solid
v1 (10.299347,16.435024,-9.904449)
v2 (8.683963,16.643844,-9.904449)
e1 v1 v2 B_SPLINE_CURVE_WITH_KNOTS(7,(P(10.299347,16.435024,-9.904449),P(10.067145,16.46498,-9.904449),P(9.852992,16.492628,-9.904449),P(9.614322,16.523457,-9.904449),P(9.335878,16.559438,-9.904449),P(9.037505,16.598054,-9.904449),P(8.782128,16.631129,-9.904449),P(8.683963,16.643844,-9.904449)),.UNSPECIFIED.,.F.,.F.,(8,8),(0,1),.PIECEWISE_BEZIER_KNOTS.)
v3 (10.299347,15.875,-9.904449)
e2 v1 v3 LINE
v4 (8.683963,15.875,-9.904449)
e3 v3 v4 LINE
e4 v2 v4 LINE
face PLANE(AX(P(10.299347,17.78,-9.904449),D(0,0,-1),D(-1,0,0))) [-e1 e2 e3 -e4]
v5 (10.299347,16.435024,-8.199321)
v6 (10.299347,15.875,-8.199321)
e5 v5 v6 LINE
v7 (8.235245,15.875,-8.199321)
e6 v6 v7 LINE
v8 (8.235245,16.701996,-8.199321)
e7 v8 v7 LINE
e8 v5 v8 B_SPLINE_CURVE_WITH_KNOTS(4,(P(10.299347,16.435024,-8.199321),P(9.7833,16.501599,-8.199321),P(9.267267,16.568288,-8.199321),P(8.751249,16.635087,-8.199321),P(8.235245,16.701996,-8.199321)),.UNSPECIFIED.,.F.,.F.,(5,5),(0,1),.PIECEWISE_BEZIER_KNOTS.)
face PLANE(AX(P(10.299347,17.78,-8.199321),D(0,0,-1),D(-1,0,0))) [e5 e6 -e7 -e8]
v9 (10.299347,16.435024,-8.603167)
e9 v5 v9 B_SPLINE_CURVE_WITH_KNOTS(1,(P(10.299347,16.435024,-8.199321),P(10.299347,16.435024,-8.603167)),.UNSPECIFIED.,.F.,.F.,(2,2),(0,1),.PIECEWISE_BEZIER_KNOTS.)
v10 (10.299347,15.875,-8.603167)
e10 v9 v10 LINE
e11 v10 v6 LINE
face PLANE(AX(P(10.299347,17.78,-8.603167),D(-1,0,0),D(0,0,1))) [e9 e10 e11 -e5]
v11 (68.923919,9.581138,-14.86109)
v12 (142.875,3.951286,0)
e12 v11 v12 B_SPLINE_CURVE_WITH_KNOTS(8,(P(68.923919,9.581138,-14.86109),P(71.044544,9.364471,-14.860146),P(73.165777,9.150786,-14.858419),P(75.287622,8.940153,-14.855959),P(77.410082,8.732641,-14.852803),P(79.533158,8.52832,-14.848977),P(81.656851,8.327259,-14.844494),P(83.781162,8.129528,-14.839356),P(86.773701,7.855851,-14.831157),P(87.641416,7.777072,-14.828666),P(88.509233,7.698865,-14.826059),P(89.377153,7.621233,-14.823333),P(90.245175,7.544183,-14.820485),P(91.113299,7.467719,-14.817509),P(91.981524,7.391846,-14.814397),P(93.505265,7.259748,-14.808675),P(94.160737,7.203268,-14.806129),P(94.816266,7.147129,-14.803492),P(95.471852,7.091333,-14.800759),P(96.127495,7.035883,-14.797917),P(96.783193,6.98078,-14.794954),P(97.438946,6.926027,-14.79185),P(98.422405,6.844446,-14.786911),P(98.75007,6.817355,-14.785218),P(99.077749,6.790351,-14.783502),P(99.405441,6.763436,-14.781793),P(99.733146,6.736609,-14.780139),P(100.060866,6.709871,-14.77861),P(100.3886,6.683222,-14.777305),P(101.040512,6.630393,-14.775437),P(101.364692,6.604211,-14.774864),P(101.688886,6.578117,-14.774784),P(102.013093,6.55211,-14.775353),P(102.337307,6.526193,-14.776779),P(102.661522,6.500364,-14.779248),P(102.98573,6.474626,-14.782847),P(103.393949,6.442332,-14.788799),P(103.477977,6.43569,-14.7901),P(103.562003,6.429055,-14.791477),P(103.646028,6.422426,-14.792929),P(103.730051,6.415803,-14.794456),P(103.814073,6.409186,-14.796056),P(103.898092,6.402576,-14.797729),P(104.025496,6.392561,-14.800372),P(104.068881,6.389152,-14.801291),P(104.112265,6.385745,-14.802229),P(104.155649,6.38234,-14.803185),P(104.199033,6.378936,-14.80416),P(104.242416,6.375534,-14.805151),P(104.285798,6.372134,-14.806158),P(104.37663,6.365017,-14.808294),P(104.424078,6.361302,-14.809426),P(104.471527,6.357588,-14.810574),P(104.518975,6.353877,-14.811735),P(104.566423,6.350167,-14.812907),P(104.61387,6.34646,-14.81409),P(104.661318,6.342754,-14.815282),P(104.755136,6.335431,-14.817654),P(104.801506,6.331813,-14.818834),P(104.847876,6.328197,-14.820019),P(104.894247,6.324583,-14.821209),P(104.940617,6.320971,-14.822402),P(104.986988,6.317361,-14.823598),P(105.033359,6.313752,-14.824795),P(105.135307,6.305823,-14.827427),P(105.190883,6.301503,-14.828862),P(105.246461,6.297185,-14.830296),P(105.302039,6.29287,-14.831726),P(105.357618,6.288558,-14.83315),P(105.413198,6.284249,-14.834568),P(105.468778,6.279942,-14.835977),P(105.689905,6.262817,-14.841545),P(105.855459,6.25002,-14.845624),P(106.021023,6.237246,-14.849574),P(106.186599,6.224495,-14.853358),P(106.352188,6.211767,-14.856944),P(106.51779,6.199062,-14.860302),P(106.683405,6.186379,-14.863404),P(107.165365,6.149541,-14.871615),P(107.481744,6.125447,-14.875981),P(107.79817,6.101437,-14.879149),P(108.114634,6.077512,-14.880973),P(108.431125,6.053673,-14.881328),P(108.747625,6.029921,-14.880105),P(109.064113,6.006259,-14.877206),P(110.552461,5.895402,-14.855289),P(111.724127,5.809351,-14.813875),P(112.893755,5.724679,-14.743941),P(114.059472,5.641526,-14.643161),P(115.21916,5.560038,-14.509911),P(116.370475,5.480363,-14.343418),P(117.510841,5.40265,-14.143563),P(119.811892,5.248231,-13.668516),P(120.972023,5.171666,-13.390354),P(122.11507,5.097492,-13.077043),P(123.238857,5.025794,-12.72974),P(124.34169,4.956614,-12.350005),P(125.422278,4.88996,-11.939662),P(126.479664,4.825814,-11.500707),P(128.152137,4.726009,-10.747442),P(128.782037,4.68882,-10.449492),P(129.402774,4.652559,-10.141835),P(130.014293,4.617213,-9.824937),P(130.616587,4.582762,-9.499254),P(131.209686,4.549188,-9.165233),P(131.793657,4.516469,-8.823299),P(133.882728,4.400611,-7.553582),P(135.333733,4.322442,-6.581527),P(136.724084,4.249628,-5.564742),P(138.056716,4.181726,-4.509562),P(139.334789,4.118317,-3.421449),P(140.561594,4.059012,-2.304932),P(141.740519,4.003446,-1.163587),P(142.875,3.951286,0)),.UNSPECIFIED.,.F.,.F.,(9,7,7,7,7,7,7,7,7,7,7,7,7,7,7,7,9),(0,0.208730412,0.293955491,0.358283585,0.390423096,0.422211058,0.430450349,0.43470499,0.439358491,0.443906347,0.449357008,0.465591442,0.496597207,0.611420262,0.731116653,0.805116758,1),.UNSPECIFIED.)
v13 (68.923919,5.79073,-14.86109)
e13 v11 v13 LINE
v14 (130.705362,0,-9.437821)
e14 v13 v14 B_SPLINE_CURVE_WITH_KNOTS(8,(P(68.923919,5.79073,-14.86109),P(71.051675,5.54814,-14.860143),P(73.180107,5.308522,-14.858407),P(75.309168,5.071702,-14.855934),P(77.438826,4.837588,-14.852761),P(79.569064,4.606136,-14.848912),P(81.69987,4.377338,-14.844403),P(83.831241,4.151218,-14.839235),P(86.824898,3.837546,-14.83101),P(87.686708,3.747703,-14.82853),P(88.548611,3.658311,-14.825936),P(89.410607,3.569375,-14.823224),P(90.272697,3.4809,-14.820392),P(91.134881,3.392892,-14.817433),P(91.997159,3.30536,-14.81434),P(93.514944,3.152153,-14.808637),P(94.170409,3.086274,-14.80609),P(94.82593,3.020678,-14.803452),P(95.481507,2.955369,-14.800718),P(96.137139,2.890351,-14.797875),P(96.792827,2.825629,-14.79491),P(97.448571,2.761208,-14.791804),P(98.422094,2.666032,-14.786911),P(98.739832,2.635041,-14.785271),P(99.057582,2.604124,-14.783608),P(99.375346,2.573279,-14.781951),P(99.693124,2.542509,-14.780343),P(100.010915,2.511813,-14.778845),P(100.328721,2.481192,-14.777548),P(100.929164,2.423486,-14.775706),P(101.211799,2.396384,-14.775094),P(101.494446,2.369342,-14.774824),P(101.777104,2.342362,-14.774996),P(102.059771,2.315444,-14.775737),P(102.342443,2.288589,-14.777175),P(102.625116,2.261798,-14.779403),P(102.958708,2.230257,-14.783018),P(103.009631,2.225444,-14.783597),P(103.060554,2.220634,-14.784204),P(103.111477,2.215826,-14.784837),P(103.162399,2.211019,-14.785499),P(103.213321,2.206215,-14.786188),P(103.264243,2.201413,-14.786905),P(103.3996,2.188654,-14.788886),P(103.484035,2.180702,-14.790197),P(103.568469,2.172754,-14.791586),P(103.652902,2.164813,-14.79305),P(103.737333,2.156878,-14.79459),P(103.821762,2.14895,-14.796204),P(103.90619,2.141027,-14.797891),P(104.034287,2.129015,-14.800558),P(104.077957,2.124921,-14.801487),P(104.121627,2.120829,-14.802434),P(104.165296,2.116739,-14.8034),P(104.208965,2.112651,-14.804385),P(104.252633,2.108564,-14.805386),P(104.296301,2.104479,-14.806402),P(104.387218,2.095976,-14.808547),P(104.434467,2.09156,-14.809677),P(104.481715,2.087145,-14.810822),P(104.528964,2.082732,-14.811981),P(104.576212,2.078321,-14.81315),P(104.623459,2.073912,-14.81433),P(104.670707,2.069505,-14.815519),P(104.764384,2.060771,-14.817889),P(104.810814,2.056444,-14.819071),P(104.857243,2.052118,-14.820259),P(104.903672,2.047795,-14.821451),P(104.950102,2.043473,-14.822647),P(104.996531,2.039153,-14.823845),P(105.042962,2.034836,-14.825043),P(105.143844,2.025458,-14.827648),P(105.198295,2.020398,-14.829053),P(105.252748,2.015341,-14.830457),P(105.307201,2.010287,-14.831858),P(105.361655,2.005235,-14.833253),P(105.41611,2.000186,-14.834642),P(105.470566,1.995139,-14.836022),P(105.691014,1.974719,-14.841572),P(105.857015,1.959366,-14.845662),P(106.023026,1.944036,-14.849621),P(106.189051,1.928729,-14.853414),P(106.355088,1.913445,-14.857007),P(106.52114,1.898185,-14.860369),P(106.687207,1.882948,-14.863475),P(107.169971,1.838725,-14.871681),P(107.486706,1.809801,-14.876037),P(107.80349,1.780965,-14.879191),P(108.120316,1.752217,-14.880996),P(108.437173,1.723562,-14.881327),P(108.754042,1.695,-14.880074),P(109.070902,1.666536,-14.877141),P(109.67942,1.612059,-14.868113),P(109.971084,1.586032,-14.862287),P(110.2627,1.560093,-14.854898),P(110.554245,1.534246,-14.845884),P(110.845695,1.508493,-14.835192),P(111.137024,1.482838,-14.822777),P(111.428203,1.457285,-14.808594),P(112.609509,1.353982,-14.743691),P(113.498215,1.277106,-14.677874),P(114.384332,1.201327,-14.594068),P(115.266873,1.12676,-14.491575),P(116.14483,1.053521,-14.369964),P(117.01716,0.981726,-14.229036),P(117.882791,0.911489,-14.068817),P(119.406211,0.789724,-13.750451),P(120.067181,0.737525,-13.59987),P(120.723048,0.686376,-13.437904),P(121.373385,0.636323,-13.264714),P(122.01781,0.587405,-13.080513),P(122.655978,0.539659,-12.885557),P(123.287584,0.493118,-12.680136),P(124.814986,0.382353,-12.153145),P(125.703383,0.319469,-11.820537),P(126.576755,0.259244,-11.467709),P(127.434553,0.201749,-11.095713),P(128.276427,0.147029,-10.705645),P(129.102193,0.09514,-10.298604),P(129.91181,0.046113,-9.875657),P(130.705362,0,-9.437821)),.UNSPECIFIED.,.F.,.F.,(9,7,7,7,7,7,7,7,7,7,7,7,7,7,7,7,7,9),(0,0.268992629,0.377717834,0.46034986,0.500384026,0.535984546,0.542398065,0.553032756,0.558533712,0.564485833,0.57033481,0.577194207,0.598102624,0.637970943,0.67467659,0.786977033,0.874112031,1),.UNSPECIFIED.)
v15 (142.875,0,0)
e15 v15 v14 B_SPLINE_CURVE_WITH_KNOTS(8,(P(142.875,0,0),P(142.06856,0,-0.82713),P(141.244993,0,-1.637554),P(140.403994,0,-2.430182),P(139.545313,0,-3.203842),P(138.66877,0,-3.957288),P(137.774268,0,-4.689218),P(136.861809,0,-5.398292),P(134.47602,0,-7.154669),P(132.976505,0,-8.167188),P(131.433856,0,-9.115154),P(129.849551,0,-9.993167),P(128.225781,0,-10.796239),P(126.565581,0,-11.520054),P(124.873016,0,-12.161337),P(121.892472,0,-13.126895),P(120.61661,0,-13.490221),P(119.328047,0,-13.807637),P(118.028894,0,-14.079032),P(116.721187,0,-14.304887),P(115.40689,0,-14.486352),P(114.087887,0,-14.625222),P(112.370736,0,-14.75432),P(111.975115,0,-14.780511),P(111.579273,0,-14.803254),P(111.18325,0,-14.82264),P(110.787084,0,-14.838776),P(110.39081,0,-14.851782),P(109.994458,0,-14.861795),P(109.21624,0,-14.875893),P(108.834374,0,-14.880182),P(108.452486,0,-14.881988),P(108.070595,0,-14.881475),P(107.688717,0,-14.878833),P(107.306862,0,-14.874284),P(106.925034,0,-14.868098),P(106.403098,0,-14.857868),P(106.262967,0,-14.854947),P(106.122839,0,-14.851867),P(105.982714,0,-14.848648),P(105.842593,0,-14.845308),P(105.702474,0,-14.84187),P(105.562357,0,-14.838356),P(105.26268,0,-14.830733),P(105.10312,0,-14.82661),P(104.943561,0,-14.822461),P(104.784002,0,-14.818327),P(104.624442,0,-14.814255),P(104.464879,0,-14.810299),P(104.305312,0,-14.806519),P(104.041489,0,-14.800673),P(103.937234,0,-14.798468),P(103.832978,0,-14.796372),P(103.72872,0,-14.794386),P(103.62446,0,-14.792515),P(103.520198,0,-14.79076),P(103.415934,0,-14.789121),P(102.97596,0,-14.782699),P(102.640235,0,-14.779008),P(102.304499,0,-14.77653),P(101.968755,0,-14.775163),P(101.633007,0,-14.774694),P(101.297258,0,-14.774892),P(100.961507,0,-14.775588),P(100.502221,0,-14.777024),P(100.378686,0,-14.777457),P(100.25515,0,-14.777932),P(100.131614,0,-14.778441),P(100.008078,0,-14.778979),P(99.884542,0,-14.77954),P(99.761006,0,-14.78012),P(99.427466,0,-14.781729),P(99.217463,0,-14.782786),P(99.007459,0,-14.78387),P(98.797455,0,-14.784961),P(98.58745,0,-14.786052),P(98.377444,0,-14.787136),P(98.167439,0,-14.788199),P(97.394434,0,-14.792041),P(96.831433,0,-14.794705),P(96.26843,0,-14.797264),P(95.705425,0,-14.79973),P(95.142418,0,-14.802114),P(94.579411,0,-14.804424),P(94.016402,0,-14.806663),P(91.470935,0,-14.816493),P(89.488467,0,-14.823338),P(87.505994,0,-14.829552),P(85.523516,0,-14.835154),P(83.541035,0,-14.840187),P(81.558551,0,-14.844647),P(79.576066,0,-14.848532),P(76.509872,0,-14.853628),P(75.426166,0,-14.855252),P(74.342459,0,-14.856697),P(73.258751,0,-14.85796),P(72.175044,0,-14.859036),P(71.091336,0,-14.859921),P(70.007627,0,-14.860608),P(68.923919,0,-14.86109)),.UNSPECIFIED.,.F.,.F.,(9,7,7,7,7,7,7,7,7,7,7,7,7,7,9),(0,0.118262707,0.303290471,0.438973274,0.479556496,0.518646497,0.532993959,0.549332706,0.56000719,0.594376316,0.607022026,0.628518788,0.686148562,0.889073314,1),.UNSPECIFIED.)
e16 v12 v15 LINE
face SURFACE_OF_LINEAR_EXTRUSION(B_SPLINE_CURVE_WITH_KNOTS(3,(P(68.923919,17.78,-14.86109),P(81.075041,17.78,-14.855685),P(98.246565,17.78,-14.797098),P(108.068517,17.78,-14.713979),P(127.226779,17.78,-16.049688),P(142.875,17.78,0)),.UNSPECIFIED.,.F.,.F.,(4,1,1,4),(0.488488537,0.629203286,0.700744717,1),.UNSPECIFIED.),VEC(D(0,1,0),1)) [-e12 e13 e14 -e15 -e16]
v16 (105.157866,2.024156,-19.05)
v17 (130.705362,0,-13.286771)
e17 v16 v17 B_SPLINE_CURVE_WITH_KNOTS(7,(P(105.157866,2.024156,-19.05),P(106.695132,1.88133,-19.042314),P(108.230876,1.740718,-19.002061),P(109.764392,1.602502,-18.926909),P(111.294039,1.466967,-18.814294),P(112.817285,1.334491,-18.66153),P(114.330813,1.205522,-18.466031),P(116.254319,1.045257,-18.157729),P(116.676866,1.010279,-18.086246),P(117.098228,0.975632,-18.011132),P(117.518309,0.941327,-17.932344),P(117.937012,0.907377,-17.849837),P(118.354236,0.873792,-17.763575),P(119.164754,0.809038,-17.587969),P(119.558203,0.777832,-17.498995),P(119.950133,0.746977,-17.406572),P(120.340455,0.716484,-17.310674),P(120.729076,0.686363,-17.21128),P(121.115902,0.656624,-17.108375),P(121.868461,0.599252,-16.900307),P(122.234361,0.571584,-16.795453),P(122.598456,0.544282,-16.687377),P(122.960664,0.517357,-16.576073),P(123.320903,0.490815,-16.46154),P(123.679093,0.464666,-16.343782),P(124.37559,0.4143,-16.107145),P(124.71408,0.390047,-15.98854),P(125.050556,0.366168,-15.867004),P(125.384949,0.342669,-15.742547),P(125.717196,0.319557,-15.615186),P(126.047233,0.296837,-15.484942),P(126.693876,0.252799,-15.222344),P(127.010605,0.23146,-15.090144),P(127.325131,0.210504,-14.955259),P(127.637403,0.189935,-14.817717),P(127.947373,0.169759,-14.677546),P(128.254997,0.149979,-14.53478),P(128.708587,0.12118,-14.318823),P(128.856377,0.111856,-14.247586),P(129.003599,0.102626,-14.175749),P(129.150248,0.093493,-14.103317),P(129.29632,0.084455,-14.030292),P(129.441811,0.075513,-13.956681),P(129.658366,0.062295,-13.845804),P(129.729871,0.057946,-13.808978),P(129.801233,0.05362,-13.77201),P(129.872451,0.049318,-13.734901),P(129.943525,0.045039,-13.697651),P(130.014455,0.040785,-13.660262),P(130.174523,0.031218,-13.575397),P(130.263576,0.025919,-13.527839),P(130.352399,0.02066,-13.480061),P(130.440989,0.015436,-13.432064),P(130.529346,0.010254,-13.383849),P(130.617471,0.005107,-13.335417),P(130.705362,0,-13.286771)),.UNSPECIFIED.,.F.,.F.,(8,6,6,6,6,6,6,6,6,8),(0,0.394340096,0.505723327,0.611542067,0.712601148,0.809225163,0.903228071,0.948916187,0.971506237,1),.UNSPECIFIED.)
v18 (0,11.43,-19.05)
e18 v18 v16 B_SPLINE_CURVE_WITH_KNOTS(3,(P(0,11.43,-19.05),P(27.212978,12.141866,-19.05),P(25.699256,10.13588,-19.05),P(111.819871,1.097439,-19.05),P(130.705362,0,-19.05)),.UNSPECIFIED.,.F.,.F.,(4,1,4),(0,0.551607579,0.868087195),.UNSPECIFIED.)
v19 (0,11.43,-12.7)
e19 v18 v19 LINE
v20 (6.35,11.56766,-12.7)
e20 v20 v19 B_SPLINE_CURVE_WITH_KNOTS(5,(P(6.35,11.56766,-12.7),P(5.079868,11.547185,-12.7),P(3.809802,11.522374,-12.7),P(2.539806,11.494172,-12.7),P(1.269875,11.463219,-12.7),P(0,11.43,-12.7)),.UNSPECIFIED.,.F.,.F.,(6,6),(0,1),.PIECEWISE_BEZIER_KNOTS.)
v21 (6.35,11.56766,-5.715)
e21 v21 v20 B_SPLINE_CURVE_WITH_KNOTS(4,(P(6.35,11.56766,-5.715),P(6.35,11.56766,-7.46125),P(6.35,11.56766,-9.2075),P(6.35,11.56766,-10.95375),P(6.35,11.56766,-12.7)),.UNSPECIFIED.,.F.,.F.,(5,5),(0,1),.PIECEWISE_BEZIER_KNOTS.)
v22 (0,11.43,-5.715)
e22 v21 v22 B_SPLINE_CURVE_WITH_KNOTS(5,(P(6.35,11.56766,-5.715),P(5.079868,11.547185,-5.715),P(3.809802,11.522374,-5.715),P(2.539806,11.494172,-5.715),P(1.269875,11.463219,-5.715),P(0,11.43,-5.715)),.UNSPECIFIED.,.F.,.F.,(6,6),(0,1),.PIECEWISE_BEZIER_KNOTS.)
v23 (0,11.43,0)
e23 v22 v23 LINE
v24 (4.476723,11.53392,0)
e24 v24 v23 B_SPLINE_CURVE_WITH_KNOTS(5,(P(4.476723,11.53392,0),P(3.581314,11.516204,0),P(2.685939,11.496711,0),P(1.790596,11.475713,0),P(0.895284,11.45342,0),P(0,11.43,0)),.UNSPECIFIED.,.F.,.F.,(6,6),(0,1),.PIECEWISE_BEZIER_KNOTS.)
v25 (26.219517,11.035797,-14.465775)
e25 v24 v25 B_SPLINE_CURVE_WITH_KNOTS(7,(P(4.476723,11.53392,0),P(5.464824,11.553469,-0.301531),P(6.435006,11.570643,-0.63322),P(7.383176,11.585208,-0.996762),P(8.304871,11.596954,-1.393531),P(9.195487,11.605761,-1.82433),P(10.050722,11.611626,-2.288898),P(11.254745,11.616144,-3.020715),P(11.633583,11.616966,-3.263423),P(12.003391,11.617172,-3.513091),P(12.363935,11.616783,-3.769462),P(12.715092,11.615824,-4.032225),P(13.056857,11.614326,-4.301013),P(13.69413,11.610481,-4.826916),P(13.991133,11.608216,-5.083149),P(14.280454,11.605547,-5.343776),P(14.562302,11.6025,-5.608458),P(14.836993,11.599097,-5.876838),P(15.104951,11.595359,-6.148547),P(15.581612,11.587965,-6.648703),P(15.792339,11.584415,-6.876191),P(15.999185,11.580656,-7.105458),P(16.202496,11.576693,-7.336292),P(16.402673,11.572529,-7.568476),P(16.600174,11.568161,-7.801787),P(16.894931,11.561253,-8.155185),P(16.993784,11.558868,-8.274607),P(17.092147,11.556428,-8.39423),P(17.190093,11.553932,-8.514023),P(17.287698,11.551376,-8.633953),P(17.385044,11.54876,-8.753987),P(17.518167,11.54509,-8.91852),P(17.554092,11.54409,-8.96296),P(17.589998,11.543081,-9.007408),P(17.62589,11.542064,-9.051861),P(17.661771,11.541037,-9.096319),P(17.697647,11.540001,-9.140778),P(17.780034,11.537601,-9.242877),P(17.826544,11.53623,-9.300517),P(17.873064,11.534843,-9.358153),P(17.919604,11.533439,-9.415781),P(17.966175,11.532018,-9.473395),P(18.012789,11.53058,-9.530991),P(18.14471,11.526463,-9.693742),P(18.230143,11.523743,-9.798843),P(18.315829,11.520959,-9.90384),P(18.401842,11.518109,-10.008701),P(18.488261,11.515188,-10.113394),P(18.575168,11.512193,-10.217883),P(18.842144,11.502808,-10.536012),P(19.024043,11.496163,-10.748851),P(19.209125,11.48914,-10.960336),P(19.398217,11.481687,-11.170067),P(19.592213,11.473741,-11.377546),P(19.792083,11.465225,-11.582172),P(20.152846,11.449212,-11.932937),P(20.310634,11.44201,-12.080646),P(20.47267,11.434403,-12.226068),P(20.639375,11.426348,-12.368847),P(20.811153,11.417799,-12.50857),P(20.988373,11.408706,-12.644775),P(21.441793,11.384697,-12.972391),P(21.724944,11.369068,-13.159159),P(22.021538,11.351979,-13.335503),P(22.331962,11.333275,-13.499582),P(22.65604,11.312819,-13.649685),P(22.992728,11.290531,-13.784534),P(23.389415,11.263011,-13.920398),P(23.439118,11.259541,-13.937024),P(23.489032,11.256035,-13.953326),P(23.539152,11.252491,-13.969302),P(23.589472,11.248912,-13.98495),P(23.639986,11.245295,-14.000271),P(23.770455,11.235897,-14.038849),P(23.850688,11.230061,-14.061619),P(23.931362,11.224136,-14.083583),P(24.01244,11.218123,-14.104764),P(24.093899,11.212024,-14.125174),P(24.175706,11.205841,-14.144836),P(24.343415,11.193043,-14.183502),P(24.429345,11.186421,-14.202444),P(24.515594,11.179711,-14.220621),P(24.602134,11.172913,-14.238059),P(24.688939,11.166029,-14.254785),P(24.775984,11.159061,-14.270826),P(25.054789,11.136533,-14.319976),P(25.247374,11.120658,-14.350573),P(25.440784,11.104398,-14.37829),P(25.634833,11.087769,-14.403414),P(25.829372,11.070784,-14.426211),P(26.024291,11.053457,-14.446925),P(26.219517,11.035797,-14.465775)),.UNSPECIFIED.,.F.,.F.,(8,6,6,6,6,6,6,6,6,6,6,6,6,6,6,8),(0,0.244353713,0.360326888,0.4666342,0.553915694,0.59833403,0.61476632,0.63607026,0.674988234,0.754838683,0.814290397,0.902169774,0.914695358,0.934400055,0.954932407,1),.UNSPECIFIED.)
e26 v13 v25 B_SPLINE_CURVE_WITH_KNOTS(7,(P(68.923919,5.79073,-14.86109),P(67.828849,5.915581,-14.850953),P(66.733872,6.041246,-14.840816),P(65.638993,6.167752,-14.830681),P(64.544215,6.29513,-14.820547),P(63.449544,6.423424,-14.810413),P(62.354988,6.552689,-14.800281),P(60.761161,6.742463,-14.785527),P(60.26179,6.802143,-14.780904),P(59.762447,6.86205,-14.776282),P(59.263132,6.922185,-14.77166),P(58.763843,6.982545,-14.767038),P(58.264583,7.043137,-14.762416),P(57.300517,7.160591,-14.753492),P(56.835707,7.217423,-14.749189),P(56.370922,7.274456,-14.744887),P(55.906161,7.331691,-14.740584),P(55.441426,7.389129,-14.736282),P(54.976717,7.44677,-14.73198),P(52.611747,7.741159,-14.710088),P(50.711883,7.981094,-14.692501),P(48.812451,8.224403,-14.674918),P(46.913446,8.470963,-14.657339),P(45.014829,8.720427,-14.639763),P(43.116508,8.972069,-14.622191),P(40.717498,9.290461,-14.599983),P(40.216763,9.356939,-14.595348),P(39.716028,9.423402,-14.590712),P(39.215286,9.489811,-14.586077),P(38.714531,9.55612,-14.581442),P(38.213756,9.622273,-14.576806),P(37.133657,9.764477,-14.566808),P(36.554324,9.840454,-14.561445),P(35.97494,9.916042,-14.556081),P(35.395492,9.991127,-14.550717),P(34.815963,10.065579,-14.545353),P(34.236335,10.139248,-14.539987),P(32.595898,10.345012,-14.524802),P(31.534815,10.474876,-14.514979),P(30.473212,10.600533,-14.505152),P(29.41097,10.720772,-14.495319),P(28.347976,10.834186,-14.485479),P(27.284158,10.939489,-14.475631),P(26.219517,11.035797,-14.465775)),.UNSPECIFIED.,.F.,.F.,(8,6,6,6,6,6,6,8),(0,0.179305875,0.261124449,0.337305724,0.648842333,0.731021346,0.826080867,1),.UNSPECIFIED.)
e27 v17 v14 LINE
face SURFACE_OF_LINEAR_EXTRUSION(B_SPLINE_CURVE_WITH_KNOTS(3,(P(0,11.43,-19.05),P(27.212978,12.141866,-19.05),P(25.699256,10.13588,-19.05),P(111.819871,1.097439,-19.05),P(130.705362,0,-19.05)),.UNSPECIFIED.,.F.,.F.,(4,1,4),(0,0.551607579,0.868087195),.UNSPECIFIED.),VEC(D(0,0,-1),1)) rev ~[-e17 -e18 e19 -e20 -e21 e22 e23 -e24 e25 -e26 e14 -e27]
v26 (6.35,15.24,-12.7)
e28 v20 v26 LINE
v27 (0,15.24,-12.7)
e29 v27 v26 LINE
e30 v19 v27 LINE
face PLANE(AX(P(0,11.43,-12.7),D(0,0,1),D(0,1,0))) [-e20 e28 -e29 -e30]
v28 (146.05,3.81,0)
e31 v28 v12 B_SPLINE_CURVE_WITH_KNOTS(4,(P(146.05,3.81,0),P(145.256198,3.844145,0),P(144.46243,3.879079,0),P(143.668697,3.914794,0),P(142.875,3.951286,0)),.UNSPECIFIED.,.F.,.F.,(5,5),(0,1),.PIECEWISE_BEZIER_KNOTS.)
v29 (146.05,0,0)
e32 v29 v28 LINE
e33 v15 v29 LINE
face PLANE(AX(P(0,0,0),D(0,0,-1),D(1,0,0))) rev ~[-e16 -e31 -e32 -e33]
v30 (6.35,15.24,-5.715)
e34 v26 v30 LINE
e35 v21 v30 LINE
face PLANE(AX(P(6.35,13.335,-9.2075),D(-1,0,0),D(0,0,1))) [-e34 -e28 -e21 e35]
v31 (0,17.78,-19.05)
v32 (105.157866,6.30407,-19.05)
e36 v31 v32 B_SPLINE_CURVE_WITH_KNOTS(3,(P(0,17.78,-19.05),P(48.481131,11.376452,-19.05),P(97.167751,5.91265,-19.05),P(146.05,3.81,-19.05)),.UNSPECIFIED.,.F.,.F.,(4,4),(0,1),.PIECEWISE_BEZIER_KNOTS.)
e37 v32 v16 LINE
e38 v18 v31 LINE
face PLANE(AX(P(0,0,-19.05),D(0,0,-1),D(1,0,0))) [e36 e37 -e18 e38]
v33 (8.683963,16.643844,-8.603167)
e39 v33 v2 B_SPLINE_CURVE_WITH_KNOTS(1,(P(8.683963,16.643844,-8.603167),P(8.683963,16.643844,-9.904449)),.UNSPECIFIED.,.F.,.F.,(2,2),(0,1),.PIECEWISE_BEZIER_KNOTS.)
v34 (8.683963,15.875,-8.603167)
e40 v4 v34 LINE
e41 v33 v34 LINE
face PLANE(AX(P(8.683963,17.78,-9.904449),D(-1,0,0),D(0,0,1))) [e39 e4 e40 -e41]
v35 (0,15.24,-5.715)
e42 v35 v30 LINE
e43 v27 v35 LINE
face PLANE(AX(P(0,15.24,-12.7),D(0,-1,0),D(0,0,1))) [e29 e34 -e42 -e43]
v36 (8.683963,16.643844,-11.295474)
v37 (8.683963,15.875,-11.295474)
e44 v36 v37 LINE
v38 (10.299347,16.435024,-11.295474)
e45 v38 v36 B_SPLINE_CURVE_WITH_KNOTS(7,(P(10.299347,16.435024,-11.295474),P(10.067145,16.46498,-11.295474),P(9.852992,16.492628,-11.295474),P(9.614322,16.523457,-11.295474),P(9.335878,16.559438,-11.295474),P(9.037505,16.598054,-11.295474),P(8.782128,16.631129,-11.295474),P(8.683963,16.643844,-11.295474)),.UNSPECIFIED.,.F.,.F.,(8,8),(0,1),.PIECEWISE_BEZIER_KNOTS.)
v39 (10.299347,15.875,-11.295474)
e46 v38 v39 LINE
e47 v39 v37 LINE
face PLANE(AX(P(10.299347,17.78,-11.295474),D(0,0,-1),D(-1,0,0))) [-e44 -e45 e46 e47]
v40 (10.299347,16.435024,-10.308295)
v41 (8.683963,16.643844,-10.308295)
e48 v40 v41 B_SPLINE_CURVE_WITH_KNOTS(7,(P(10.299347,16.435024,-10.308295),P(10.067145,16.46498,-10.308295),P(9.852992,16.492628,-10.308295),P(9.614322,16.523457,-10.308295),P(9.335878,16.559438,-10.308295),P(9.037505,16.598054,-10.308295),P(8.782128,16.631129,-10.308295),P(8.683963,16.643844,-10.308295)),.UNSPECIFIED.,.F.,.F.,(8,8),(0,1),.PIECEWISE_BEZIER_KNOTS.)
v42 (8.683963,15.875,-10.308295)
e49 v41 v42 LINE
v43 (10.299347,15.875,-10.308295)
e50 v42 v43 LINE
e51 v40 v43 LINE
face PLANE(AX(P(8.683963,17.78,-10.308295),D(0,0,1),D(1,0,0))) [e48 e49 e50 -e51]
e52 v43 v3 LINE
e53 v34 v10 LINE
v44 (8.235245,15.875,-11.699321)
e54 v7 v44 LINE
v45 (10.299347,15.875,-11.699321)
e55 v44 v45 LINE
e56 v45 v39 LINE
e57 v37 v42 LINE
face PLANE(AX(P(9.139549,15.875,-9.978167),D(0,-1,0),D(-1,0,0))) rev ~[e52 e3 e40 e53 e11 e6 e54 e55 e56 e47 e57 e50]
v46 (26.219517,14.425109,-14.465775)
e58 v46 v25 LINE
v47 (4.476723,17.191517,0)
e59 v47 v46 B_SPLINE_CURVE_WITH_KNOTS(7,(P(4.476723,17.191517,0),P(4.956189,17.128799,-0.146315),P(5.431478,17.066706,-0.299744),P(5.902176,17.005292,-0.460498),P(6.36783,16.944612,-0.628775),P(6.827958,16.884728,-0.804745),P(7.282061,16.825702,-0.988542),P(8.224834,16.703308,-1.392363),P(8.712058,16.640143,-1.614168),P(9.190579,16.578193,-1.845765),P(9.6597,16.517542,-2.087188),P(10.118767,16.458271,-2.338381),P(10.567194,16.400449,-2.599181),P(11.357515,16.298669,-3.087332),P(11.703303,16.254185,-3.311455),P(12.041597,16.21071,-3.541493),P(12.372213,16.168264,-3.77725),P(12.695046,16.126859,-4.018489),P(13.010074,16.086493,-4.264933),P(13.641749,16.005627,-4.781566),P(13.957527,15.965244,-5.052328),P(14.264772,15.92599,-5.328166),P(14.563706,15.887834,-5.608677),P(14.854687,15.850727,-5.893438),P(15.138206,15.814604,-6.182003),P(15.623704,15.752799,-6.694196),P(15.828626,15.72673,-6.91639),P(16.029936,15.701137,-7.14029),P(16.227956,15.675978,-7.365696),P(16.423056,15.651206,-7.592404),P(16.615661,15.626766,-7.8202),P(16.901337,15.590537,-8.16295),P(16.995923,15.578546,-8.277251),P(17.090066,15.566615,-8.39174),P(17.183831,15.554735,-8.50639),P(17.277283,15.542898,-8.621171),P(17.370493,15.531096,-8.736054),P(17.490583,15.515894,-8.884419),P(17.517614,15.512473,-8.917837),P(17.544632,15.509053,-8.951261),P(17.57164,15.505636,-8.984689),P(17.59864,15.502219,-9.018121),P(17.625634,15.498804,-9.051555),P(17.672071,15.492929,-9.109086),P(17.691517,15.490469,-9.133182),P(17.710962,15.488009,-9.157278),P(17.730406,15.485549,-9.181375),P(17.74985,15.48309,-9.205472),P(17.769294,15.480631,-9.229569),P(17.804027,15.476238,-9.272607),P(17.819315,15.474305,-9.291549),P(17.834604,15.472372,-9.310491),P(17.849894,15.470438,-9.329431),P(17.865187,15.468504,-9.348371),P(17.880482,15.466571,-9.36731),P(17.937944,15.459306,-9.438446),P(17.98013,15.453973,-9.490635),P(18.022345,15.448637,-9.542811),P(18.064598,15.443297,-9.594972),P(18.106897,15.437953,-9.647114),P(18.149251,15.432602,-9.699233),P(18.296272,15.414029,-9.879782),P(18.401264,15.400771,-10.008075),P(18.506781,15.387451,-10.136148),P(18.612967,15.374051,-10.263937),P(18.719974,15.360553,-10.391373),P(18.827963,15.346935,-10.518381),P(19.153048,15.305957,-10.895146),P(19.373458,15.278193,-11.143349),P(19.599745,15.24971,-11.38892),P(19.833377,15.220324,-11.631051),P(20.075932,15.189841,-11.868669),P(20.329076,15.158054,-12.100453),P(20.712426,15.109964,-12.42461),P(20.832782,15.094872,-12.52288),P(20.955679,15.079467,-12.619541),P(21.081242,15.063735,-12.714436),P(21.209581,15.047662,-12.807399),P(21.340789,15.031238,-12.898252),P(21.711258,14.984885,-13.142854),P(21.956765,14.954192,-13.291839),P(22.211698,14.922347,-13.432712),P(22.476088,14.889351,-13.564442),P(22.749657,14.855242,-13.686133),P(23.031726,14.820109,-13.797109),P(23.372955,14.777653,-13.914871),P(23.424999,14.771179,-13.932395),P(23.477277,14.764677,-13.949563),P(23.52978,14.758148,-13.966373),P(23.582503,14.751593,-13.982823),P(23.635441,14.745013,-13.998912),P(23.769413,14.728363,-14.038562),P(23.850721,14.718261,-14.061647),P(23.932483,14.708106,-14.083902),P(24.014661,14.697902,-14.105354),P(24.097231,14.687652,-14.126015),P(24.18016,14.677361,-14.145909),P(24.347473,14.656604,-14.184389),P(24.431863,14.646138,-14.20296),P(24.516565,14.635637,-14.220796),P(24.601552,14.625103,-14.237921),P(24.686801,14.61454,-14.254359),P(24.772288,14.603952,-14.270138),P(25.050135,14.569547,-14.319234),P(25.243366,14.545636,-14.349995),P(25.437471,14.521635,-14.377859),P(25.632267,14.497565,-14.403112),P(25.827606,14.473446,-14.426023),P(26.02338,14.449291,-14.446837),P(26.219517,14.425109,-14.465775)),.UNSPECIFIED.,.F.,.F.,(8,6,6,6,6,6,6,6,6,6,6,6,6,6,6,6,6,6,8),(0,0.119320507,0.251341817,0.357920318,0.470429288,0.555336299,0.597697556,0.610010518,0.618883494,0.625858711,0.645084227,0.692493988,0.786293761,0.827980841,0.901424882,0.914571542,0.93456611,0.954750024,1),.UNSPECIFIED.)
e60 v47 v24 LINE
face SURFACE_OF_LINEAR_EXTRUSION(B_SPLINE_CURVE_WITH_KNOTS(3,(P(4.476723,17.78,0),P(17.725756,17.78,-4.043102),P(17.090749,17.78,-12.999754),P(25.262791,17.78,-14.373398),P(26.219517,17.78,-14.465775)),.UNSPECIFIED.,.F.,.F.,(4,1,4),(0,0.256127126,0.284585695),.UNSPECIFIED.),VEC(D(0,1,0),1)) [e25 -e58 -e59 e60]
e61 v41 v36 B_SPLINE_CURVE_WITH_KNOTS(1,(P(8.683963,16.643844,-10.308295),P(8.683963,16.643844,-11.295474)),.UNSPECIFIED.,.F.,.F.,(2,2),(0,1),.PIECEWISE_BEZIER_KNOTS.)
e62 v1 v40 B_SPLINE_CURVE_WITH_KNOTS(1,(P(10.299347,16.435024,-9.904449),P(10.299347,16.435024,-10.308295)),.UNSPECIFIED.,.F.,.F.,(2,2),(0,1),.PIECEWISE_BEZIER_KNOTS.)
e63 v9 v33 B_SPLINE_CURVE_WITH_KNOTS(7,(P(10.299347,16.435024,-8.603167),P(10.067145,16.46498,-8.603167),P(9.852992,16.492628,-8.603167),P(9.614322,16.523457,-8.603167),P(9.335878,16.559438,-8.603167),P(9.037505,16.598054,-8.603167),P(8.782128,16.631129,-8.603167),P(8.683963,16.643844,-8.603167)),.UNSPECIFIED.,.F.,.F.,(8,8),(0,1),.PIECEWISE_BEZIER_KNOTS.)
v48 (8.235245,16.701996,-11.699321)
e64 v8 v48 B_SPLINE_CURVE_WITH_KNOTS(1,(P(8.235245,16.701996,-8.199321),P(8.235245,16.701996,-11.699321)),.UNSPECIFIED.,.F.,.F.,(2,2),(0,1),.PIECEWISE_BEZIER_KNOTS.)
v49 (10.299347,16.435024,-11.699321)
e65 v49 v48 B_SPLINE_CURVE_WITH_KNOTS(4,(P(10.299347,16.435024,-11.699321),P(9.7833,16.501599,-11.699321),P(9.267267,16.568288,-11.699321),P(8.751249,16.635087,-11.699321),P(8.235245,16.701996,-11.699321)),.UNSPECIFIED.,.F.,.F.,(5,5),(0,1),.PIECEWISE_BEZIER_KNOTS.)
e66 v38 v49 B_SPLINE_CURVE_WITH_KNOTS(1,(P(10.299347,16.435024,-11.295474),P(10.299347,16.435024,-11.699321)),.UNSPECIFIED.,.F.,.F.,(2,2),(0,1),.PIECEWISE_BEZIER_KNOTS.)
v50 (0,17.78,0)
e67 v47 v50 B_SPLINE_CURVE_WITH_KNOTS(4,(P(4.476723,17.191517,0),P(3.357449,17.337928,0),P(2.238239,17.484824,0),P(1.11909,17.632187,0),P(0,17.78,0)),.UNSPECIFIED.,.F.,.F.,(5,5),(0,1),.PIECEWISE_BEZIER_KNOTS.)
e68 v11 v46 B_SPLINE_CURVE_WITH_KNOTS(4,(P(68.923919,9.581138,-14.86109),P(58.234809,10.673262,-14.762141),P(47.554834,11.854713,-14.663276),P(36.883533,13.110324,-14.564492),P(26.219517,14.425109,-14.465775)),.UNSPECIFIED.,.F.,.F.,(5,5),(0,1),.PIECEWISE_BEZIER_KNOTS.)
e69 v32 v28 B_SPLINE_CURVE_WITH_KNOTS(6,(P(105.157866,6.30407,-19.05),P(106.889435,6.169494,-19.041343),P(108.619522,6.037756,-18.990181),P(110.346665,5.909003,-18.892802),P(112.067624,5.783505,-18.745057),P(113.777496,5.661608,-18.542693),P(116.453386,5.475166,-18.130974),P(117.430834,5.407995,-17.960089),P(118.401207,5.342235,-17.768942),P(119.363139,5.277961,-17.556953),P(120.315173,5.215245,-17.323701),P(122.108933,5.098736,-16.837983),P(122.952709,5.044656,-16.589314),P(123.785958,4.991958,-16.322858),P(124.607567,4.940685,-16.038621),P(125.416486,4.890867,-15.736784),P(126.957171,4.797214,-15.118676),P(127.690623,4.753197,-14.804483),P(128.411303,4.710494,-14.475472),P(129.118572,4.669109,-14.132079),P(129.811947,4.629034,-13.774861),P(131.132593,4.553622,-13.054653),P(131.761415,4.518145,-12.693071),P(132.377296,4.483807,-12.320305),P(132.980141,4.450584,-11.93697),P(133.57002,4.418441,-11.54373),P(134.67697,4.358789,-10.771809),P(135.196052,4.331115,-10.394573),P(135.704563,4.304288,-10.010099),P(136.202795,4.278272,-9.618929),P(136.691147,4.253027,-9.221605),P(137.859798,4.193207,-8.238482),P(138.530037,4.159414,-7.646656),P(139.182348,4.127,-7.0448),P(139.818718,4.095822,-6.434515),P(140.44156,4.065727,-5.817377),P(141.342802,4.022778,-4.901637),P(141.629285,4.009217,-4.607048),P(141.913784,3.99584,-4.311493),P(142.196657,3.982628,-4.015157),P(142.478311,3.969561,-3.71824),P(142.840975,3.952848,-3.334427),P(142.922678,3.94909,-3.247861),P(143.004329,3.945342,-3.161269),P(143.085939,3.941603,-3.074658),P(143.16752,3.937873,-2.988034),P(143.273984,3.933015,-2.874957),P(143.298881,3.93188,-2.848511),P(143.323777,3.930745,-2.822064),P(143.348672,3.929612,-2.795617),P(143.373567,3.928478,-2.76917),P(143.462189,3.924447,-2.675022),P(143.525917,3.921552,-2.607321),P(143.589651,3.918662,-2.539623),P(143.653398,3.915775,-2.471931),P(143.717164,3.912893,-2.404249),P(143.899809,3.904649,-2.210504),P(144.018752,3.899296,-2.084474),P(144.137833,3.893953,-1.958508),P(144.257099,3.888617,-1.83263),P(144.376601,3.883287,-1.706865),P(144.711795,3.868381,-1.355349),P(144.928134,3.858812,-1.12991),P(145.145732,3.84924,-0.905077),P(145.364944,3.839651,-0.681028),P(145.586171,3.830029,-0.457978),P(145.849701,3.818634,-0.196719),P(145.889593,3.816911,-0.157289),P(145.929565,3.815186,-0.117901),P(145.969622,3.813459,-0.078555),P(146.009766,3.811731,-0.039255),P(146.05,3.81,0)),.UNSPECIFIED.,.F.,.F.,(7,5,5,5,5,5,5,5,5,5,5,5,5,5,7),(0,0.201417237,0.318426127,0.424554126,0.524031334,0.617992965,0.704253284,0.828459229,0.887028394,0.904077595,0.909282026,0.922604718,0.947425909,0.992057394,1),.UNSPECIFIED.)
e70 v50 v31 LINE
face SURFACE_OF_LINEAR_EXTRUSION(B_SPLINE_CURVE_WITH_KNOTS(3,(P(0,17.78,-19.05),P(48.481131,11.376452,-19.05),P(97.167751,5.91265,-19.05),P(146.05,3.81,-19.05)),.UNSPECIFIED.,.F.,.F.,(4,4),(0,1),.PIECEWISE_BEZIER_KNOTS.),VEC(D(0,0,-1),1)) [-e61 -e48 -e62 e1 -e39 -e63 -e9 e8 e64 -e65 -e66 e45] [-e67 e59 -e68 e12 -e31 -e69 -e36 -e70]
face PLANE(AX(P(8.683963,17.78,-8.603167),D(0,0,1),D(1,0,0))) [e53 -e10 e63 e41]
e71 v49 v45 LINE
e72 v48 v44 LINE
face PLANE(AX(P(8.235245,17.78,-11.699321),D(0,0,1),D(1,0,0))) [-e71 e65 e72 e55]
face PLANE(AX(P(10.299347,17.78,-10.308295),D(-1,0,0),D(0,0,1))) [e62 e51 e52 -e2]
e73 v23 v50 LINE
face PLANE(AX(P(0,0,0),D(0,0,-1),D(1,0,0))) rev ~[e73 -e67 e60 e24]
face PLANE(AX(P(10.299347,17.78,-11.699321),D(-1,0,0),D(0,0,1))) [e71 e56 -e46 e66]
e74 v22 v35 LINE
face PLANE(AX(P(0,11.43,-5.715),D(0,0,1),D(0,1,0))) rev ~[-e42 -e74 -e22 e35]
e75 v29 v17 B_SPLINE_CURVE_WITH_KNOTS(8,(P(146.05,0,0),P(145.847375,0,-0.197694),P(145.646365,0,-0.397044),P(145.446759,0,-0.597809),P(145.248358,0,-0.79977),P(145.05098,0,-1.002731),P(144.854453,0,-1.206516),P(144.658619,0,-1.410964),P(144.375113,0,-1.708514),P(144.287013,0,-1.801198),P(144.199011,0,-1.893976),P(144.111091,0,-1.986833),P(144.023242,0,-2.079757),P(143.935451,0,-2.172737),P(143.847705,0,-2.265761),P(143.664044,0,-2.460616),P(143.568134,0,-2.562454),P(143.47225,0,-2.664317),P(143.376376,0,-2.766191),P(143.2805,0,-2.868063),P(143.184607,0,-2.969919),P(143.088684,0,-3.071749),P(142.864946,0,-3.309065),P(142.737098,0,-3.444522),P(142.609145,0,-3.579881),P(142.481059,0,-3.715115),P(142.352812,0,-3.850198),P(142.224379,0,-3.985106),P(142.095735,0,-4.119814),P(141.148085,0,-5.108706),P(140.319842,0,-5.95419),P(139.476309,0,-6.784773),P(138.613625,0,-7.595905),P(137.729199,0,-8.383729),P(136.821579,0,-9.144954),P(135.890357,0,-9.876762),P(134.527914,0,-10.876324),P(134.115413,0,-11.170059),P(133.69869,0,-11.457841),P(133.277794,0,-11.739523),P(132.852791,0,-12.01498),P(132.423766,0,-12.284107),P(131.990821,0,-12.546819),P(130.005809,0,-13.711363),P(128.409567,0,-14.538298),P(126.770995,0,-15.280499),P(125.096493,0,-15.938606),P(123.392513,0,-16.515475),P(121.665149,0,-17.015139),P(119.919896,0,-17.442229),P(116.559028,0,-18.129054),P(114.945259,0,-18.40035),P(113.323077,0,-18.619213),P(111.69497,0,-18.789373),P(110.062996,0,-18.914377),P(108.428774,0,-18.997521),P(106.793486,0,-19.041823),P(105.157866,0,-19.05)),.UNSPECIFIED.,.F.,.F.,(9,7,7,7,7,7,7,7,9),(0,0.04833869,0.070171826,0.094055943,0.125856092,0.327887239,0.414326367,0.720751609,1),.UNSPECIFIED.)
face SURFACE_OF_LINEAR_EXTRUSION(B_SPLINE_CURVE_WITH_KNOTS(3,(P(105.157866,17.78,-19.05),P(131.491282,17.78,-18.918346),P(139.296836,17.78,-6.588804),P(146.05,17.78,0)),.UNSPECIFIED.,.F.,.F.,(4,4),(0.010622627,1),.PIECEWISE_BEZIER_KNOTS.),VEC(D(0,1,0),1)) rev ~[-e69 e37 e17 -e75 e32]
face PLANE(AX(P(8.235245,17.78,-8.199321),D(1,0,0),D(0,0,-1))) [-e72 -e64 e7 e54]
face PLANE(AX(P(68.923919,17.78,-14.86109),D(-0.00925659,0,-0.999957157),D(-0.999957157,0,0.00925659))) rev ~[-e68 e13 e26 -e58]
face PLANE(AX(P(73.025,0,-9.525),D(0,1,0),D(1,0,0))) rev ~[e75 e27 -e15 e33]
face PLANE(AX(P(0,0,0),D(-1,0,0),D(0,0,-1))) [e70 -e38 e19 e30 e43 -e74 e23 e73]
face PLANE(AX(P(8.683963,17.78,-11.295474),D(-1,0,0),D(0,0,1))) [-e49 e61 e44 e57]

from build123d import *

# Parameters (mm, degrees)
SKETCH1_W           = 146.05
SKETCH1_H           = 19.05
BOSS_EXTRUDE1_DEPTH = 17.78
CUT_EXTRUDE5_DEPTH  = 1.905
CUT_EXTRUDE2_DEPTH  = 19.05
CUT_EXTRUDE3_DEPTH  = 149.356440496
SKETCH5_W           = 6.985
SKETCH5_H           = 3.81
CUT_EXTRUDE4_DEPTH  = 6.35


with BuildPart() as part:
    # Sketch1 → Boss-Extrude1 (new body)
    with BuildSketch(Plane(origin=(0, 0, 0), x_dir=(1, 0, 0), z_dir=(0, 1, 0))):
        with Locations((73.025, 9.525)):
            Rectangle(SKETCH1_W, SKETCH1_H)
    extrude(amount=BOSS_EXTRUDE1_DEPTH)

    # Sketch6 → Cut-Extrude5 (cut)
    with BuildSketch(Plane(origin=(0, 17.78, 0), x_dir=(1, 0, 0), z_dir=(0, 1, 0))):
        Polygon((8.235244611, 11.699320572), (10.299347175, 11.699320572), (10.299347175, 11.295474418), (8.68396256, 11.295474418), (8.68396256, 10.308294931), (10.299347175, 10.308294931), (10.299347175, 9.904448777), (8.68396256, 9.904448777), (8.68396256, 8.603166726), (10.299347175, 8.603166726), (10.299347175, 8.199320572), (8.235244611, 8.199320572), align=None)
    extrude(amount=-CUT_EXTRUDE5_DEPTH, mode=Mode.SUBTRACT)

    # Sketch4 → Cut-Extrude2 (cut)
    with BuildSketch(Plane(origin=(0, 17.78, 0), x_dir=(1, 0, 0), z_dir=(0, 1, 0))):
        with BuildLine():
            add(Edge.make_bspline(
                [(4.476723392, 0), (17.725756487, 4.043101895), (17.090749047, 12.999753789), (25.262791442, 14.373397692), (26.219517358, 14.465775476)],
                knots=[0, 0, 0, 0, 0.256127126, 0.284585695, 0.284585695, 0.284585695, 0.284585695], degree=3))
            Line((4.476723392, 0), (142.875, 0))
            add(Edge.make_bspline(
                [(68.923918907, 14.861089556), (81.075041449, 14.855684794), (98.246564786, 14.797098309), (108.068516517, 14.713978549), (127.226778846, 16.049688466), (142.875, 0)],
                knots=[0.488488537, 0.488488537, 0.488488537, 0.488488537, 0.629203286, 0.700744717, 1, 1, 1, 1], degree=3))
            Line((68.923918907, 14.861089556), (26.219517358, 14.465775476))
        make_face()
        with BuildLine():
            add(Edge.make_bspline(
                [(105.157866441, 19.05), (131.491281961, 18.918345897), (139.296835945, 6.588803862), (146.05, 0)],
                knots=[0.010622627, 0.010622627, 0.010622627, 0.010622627, 1, 1, 1, 1], degree=3))
            Line((146.05, 0), (146.05, 19.05))
            Line((146.05, 19.05), (105.157866441, 19.05))
        make_face()
    extrude(amount=-CUT_EXTRUDE2_DEPTH, mode=Mode.SUBTRACT)

    # Sketch3 → Cut-Extrude3 (cut, through all)
    with BuildSketch(Plane(origin=(0, 0, -19.05), x_dir=(-1, 0, 0), z_dir=(0, 0, -1))):
        with BuildLine():
            Line((0, 0), (0, 11.43))
            add(Edge.make_bspline(
                [(0, 11.43), (-27.212978315, 12.141866266), (-25.699255583, 10.135880462), (-111.819871073, 1.097438505), (-130.705361789, 0)],
                knots=[0, 0, 0, 0, 0.551607579, 0.868087195, 0.868087195, 0.868087195, 0.868087195], degree=3))
            Line((-130.705361789, 0), (0, 0))
        make_face()
        with BuildLine():
            add(Edge.make_bspline(
                [(0, 17.78), (-48.481130749, 11.376451851), (-97.167750981, 5.912650085), (-146.05, 3.81)],
                knots=[0, 0, 0, 0, 1, 1, 1, 1], degree=3))
            Line((0, 17.78), (-146.05, 17.78))
            Line((-146.05, 17.78), (-146.05, 3.81))
        make_face()
    extrude(amount=-CUT_EXTRUDE3_DEPTH, mode=Mode.SUBTRACT)

    # Sketch5 → Cut-Extrude4 (cut)
    with BuildSketch(Plane.ZY):
        with Locations((-9.2075, 13.335)):
            Rectangle(SKETCH5_W, SKETCH5_H)
    extrude(amount=-CUT_EXTRUDE4_DEPTH, mode=Mode.SUBTRACT)


solid = part.part
